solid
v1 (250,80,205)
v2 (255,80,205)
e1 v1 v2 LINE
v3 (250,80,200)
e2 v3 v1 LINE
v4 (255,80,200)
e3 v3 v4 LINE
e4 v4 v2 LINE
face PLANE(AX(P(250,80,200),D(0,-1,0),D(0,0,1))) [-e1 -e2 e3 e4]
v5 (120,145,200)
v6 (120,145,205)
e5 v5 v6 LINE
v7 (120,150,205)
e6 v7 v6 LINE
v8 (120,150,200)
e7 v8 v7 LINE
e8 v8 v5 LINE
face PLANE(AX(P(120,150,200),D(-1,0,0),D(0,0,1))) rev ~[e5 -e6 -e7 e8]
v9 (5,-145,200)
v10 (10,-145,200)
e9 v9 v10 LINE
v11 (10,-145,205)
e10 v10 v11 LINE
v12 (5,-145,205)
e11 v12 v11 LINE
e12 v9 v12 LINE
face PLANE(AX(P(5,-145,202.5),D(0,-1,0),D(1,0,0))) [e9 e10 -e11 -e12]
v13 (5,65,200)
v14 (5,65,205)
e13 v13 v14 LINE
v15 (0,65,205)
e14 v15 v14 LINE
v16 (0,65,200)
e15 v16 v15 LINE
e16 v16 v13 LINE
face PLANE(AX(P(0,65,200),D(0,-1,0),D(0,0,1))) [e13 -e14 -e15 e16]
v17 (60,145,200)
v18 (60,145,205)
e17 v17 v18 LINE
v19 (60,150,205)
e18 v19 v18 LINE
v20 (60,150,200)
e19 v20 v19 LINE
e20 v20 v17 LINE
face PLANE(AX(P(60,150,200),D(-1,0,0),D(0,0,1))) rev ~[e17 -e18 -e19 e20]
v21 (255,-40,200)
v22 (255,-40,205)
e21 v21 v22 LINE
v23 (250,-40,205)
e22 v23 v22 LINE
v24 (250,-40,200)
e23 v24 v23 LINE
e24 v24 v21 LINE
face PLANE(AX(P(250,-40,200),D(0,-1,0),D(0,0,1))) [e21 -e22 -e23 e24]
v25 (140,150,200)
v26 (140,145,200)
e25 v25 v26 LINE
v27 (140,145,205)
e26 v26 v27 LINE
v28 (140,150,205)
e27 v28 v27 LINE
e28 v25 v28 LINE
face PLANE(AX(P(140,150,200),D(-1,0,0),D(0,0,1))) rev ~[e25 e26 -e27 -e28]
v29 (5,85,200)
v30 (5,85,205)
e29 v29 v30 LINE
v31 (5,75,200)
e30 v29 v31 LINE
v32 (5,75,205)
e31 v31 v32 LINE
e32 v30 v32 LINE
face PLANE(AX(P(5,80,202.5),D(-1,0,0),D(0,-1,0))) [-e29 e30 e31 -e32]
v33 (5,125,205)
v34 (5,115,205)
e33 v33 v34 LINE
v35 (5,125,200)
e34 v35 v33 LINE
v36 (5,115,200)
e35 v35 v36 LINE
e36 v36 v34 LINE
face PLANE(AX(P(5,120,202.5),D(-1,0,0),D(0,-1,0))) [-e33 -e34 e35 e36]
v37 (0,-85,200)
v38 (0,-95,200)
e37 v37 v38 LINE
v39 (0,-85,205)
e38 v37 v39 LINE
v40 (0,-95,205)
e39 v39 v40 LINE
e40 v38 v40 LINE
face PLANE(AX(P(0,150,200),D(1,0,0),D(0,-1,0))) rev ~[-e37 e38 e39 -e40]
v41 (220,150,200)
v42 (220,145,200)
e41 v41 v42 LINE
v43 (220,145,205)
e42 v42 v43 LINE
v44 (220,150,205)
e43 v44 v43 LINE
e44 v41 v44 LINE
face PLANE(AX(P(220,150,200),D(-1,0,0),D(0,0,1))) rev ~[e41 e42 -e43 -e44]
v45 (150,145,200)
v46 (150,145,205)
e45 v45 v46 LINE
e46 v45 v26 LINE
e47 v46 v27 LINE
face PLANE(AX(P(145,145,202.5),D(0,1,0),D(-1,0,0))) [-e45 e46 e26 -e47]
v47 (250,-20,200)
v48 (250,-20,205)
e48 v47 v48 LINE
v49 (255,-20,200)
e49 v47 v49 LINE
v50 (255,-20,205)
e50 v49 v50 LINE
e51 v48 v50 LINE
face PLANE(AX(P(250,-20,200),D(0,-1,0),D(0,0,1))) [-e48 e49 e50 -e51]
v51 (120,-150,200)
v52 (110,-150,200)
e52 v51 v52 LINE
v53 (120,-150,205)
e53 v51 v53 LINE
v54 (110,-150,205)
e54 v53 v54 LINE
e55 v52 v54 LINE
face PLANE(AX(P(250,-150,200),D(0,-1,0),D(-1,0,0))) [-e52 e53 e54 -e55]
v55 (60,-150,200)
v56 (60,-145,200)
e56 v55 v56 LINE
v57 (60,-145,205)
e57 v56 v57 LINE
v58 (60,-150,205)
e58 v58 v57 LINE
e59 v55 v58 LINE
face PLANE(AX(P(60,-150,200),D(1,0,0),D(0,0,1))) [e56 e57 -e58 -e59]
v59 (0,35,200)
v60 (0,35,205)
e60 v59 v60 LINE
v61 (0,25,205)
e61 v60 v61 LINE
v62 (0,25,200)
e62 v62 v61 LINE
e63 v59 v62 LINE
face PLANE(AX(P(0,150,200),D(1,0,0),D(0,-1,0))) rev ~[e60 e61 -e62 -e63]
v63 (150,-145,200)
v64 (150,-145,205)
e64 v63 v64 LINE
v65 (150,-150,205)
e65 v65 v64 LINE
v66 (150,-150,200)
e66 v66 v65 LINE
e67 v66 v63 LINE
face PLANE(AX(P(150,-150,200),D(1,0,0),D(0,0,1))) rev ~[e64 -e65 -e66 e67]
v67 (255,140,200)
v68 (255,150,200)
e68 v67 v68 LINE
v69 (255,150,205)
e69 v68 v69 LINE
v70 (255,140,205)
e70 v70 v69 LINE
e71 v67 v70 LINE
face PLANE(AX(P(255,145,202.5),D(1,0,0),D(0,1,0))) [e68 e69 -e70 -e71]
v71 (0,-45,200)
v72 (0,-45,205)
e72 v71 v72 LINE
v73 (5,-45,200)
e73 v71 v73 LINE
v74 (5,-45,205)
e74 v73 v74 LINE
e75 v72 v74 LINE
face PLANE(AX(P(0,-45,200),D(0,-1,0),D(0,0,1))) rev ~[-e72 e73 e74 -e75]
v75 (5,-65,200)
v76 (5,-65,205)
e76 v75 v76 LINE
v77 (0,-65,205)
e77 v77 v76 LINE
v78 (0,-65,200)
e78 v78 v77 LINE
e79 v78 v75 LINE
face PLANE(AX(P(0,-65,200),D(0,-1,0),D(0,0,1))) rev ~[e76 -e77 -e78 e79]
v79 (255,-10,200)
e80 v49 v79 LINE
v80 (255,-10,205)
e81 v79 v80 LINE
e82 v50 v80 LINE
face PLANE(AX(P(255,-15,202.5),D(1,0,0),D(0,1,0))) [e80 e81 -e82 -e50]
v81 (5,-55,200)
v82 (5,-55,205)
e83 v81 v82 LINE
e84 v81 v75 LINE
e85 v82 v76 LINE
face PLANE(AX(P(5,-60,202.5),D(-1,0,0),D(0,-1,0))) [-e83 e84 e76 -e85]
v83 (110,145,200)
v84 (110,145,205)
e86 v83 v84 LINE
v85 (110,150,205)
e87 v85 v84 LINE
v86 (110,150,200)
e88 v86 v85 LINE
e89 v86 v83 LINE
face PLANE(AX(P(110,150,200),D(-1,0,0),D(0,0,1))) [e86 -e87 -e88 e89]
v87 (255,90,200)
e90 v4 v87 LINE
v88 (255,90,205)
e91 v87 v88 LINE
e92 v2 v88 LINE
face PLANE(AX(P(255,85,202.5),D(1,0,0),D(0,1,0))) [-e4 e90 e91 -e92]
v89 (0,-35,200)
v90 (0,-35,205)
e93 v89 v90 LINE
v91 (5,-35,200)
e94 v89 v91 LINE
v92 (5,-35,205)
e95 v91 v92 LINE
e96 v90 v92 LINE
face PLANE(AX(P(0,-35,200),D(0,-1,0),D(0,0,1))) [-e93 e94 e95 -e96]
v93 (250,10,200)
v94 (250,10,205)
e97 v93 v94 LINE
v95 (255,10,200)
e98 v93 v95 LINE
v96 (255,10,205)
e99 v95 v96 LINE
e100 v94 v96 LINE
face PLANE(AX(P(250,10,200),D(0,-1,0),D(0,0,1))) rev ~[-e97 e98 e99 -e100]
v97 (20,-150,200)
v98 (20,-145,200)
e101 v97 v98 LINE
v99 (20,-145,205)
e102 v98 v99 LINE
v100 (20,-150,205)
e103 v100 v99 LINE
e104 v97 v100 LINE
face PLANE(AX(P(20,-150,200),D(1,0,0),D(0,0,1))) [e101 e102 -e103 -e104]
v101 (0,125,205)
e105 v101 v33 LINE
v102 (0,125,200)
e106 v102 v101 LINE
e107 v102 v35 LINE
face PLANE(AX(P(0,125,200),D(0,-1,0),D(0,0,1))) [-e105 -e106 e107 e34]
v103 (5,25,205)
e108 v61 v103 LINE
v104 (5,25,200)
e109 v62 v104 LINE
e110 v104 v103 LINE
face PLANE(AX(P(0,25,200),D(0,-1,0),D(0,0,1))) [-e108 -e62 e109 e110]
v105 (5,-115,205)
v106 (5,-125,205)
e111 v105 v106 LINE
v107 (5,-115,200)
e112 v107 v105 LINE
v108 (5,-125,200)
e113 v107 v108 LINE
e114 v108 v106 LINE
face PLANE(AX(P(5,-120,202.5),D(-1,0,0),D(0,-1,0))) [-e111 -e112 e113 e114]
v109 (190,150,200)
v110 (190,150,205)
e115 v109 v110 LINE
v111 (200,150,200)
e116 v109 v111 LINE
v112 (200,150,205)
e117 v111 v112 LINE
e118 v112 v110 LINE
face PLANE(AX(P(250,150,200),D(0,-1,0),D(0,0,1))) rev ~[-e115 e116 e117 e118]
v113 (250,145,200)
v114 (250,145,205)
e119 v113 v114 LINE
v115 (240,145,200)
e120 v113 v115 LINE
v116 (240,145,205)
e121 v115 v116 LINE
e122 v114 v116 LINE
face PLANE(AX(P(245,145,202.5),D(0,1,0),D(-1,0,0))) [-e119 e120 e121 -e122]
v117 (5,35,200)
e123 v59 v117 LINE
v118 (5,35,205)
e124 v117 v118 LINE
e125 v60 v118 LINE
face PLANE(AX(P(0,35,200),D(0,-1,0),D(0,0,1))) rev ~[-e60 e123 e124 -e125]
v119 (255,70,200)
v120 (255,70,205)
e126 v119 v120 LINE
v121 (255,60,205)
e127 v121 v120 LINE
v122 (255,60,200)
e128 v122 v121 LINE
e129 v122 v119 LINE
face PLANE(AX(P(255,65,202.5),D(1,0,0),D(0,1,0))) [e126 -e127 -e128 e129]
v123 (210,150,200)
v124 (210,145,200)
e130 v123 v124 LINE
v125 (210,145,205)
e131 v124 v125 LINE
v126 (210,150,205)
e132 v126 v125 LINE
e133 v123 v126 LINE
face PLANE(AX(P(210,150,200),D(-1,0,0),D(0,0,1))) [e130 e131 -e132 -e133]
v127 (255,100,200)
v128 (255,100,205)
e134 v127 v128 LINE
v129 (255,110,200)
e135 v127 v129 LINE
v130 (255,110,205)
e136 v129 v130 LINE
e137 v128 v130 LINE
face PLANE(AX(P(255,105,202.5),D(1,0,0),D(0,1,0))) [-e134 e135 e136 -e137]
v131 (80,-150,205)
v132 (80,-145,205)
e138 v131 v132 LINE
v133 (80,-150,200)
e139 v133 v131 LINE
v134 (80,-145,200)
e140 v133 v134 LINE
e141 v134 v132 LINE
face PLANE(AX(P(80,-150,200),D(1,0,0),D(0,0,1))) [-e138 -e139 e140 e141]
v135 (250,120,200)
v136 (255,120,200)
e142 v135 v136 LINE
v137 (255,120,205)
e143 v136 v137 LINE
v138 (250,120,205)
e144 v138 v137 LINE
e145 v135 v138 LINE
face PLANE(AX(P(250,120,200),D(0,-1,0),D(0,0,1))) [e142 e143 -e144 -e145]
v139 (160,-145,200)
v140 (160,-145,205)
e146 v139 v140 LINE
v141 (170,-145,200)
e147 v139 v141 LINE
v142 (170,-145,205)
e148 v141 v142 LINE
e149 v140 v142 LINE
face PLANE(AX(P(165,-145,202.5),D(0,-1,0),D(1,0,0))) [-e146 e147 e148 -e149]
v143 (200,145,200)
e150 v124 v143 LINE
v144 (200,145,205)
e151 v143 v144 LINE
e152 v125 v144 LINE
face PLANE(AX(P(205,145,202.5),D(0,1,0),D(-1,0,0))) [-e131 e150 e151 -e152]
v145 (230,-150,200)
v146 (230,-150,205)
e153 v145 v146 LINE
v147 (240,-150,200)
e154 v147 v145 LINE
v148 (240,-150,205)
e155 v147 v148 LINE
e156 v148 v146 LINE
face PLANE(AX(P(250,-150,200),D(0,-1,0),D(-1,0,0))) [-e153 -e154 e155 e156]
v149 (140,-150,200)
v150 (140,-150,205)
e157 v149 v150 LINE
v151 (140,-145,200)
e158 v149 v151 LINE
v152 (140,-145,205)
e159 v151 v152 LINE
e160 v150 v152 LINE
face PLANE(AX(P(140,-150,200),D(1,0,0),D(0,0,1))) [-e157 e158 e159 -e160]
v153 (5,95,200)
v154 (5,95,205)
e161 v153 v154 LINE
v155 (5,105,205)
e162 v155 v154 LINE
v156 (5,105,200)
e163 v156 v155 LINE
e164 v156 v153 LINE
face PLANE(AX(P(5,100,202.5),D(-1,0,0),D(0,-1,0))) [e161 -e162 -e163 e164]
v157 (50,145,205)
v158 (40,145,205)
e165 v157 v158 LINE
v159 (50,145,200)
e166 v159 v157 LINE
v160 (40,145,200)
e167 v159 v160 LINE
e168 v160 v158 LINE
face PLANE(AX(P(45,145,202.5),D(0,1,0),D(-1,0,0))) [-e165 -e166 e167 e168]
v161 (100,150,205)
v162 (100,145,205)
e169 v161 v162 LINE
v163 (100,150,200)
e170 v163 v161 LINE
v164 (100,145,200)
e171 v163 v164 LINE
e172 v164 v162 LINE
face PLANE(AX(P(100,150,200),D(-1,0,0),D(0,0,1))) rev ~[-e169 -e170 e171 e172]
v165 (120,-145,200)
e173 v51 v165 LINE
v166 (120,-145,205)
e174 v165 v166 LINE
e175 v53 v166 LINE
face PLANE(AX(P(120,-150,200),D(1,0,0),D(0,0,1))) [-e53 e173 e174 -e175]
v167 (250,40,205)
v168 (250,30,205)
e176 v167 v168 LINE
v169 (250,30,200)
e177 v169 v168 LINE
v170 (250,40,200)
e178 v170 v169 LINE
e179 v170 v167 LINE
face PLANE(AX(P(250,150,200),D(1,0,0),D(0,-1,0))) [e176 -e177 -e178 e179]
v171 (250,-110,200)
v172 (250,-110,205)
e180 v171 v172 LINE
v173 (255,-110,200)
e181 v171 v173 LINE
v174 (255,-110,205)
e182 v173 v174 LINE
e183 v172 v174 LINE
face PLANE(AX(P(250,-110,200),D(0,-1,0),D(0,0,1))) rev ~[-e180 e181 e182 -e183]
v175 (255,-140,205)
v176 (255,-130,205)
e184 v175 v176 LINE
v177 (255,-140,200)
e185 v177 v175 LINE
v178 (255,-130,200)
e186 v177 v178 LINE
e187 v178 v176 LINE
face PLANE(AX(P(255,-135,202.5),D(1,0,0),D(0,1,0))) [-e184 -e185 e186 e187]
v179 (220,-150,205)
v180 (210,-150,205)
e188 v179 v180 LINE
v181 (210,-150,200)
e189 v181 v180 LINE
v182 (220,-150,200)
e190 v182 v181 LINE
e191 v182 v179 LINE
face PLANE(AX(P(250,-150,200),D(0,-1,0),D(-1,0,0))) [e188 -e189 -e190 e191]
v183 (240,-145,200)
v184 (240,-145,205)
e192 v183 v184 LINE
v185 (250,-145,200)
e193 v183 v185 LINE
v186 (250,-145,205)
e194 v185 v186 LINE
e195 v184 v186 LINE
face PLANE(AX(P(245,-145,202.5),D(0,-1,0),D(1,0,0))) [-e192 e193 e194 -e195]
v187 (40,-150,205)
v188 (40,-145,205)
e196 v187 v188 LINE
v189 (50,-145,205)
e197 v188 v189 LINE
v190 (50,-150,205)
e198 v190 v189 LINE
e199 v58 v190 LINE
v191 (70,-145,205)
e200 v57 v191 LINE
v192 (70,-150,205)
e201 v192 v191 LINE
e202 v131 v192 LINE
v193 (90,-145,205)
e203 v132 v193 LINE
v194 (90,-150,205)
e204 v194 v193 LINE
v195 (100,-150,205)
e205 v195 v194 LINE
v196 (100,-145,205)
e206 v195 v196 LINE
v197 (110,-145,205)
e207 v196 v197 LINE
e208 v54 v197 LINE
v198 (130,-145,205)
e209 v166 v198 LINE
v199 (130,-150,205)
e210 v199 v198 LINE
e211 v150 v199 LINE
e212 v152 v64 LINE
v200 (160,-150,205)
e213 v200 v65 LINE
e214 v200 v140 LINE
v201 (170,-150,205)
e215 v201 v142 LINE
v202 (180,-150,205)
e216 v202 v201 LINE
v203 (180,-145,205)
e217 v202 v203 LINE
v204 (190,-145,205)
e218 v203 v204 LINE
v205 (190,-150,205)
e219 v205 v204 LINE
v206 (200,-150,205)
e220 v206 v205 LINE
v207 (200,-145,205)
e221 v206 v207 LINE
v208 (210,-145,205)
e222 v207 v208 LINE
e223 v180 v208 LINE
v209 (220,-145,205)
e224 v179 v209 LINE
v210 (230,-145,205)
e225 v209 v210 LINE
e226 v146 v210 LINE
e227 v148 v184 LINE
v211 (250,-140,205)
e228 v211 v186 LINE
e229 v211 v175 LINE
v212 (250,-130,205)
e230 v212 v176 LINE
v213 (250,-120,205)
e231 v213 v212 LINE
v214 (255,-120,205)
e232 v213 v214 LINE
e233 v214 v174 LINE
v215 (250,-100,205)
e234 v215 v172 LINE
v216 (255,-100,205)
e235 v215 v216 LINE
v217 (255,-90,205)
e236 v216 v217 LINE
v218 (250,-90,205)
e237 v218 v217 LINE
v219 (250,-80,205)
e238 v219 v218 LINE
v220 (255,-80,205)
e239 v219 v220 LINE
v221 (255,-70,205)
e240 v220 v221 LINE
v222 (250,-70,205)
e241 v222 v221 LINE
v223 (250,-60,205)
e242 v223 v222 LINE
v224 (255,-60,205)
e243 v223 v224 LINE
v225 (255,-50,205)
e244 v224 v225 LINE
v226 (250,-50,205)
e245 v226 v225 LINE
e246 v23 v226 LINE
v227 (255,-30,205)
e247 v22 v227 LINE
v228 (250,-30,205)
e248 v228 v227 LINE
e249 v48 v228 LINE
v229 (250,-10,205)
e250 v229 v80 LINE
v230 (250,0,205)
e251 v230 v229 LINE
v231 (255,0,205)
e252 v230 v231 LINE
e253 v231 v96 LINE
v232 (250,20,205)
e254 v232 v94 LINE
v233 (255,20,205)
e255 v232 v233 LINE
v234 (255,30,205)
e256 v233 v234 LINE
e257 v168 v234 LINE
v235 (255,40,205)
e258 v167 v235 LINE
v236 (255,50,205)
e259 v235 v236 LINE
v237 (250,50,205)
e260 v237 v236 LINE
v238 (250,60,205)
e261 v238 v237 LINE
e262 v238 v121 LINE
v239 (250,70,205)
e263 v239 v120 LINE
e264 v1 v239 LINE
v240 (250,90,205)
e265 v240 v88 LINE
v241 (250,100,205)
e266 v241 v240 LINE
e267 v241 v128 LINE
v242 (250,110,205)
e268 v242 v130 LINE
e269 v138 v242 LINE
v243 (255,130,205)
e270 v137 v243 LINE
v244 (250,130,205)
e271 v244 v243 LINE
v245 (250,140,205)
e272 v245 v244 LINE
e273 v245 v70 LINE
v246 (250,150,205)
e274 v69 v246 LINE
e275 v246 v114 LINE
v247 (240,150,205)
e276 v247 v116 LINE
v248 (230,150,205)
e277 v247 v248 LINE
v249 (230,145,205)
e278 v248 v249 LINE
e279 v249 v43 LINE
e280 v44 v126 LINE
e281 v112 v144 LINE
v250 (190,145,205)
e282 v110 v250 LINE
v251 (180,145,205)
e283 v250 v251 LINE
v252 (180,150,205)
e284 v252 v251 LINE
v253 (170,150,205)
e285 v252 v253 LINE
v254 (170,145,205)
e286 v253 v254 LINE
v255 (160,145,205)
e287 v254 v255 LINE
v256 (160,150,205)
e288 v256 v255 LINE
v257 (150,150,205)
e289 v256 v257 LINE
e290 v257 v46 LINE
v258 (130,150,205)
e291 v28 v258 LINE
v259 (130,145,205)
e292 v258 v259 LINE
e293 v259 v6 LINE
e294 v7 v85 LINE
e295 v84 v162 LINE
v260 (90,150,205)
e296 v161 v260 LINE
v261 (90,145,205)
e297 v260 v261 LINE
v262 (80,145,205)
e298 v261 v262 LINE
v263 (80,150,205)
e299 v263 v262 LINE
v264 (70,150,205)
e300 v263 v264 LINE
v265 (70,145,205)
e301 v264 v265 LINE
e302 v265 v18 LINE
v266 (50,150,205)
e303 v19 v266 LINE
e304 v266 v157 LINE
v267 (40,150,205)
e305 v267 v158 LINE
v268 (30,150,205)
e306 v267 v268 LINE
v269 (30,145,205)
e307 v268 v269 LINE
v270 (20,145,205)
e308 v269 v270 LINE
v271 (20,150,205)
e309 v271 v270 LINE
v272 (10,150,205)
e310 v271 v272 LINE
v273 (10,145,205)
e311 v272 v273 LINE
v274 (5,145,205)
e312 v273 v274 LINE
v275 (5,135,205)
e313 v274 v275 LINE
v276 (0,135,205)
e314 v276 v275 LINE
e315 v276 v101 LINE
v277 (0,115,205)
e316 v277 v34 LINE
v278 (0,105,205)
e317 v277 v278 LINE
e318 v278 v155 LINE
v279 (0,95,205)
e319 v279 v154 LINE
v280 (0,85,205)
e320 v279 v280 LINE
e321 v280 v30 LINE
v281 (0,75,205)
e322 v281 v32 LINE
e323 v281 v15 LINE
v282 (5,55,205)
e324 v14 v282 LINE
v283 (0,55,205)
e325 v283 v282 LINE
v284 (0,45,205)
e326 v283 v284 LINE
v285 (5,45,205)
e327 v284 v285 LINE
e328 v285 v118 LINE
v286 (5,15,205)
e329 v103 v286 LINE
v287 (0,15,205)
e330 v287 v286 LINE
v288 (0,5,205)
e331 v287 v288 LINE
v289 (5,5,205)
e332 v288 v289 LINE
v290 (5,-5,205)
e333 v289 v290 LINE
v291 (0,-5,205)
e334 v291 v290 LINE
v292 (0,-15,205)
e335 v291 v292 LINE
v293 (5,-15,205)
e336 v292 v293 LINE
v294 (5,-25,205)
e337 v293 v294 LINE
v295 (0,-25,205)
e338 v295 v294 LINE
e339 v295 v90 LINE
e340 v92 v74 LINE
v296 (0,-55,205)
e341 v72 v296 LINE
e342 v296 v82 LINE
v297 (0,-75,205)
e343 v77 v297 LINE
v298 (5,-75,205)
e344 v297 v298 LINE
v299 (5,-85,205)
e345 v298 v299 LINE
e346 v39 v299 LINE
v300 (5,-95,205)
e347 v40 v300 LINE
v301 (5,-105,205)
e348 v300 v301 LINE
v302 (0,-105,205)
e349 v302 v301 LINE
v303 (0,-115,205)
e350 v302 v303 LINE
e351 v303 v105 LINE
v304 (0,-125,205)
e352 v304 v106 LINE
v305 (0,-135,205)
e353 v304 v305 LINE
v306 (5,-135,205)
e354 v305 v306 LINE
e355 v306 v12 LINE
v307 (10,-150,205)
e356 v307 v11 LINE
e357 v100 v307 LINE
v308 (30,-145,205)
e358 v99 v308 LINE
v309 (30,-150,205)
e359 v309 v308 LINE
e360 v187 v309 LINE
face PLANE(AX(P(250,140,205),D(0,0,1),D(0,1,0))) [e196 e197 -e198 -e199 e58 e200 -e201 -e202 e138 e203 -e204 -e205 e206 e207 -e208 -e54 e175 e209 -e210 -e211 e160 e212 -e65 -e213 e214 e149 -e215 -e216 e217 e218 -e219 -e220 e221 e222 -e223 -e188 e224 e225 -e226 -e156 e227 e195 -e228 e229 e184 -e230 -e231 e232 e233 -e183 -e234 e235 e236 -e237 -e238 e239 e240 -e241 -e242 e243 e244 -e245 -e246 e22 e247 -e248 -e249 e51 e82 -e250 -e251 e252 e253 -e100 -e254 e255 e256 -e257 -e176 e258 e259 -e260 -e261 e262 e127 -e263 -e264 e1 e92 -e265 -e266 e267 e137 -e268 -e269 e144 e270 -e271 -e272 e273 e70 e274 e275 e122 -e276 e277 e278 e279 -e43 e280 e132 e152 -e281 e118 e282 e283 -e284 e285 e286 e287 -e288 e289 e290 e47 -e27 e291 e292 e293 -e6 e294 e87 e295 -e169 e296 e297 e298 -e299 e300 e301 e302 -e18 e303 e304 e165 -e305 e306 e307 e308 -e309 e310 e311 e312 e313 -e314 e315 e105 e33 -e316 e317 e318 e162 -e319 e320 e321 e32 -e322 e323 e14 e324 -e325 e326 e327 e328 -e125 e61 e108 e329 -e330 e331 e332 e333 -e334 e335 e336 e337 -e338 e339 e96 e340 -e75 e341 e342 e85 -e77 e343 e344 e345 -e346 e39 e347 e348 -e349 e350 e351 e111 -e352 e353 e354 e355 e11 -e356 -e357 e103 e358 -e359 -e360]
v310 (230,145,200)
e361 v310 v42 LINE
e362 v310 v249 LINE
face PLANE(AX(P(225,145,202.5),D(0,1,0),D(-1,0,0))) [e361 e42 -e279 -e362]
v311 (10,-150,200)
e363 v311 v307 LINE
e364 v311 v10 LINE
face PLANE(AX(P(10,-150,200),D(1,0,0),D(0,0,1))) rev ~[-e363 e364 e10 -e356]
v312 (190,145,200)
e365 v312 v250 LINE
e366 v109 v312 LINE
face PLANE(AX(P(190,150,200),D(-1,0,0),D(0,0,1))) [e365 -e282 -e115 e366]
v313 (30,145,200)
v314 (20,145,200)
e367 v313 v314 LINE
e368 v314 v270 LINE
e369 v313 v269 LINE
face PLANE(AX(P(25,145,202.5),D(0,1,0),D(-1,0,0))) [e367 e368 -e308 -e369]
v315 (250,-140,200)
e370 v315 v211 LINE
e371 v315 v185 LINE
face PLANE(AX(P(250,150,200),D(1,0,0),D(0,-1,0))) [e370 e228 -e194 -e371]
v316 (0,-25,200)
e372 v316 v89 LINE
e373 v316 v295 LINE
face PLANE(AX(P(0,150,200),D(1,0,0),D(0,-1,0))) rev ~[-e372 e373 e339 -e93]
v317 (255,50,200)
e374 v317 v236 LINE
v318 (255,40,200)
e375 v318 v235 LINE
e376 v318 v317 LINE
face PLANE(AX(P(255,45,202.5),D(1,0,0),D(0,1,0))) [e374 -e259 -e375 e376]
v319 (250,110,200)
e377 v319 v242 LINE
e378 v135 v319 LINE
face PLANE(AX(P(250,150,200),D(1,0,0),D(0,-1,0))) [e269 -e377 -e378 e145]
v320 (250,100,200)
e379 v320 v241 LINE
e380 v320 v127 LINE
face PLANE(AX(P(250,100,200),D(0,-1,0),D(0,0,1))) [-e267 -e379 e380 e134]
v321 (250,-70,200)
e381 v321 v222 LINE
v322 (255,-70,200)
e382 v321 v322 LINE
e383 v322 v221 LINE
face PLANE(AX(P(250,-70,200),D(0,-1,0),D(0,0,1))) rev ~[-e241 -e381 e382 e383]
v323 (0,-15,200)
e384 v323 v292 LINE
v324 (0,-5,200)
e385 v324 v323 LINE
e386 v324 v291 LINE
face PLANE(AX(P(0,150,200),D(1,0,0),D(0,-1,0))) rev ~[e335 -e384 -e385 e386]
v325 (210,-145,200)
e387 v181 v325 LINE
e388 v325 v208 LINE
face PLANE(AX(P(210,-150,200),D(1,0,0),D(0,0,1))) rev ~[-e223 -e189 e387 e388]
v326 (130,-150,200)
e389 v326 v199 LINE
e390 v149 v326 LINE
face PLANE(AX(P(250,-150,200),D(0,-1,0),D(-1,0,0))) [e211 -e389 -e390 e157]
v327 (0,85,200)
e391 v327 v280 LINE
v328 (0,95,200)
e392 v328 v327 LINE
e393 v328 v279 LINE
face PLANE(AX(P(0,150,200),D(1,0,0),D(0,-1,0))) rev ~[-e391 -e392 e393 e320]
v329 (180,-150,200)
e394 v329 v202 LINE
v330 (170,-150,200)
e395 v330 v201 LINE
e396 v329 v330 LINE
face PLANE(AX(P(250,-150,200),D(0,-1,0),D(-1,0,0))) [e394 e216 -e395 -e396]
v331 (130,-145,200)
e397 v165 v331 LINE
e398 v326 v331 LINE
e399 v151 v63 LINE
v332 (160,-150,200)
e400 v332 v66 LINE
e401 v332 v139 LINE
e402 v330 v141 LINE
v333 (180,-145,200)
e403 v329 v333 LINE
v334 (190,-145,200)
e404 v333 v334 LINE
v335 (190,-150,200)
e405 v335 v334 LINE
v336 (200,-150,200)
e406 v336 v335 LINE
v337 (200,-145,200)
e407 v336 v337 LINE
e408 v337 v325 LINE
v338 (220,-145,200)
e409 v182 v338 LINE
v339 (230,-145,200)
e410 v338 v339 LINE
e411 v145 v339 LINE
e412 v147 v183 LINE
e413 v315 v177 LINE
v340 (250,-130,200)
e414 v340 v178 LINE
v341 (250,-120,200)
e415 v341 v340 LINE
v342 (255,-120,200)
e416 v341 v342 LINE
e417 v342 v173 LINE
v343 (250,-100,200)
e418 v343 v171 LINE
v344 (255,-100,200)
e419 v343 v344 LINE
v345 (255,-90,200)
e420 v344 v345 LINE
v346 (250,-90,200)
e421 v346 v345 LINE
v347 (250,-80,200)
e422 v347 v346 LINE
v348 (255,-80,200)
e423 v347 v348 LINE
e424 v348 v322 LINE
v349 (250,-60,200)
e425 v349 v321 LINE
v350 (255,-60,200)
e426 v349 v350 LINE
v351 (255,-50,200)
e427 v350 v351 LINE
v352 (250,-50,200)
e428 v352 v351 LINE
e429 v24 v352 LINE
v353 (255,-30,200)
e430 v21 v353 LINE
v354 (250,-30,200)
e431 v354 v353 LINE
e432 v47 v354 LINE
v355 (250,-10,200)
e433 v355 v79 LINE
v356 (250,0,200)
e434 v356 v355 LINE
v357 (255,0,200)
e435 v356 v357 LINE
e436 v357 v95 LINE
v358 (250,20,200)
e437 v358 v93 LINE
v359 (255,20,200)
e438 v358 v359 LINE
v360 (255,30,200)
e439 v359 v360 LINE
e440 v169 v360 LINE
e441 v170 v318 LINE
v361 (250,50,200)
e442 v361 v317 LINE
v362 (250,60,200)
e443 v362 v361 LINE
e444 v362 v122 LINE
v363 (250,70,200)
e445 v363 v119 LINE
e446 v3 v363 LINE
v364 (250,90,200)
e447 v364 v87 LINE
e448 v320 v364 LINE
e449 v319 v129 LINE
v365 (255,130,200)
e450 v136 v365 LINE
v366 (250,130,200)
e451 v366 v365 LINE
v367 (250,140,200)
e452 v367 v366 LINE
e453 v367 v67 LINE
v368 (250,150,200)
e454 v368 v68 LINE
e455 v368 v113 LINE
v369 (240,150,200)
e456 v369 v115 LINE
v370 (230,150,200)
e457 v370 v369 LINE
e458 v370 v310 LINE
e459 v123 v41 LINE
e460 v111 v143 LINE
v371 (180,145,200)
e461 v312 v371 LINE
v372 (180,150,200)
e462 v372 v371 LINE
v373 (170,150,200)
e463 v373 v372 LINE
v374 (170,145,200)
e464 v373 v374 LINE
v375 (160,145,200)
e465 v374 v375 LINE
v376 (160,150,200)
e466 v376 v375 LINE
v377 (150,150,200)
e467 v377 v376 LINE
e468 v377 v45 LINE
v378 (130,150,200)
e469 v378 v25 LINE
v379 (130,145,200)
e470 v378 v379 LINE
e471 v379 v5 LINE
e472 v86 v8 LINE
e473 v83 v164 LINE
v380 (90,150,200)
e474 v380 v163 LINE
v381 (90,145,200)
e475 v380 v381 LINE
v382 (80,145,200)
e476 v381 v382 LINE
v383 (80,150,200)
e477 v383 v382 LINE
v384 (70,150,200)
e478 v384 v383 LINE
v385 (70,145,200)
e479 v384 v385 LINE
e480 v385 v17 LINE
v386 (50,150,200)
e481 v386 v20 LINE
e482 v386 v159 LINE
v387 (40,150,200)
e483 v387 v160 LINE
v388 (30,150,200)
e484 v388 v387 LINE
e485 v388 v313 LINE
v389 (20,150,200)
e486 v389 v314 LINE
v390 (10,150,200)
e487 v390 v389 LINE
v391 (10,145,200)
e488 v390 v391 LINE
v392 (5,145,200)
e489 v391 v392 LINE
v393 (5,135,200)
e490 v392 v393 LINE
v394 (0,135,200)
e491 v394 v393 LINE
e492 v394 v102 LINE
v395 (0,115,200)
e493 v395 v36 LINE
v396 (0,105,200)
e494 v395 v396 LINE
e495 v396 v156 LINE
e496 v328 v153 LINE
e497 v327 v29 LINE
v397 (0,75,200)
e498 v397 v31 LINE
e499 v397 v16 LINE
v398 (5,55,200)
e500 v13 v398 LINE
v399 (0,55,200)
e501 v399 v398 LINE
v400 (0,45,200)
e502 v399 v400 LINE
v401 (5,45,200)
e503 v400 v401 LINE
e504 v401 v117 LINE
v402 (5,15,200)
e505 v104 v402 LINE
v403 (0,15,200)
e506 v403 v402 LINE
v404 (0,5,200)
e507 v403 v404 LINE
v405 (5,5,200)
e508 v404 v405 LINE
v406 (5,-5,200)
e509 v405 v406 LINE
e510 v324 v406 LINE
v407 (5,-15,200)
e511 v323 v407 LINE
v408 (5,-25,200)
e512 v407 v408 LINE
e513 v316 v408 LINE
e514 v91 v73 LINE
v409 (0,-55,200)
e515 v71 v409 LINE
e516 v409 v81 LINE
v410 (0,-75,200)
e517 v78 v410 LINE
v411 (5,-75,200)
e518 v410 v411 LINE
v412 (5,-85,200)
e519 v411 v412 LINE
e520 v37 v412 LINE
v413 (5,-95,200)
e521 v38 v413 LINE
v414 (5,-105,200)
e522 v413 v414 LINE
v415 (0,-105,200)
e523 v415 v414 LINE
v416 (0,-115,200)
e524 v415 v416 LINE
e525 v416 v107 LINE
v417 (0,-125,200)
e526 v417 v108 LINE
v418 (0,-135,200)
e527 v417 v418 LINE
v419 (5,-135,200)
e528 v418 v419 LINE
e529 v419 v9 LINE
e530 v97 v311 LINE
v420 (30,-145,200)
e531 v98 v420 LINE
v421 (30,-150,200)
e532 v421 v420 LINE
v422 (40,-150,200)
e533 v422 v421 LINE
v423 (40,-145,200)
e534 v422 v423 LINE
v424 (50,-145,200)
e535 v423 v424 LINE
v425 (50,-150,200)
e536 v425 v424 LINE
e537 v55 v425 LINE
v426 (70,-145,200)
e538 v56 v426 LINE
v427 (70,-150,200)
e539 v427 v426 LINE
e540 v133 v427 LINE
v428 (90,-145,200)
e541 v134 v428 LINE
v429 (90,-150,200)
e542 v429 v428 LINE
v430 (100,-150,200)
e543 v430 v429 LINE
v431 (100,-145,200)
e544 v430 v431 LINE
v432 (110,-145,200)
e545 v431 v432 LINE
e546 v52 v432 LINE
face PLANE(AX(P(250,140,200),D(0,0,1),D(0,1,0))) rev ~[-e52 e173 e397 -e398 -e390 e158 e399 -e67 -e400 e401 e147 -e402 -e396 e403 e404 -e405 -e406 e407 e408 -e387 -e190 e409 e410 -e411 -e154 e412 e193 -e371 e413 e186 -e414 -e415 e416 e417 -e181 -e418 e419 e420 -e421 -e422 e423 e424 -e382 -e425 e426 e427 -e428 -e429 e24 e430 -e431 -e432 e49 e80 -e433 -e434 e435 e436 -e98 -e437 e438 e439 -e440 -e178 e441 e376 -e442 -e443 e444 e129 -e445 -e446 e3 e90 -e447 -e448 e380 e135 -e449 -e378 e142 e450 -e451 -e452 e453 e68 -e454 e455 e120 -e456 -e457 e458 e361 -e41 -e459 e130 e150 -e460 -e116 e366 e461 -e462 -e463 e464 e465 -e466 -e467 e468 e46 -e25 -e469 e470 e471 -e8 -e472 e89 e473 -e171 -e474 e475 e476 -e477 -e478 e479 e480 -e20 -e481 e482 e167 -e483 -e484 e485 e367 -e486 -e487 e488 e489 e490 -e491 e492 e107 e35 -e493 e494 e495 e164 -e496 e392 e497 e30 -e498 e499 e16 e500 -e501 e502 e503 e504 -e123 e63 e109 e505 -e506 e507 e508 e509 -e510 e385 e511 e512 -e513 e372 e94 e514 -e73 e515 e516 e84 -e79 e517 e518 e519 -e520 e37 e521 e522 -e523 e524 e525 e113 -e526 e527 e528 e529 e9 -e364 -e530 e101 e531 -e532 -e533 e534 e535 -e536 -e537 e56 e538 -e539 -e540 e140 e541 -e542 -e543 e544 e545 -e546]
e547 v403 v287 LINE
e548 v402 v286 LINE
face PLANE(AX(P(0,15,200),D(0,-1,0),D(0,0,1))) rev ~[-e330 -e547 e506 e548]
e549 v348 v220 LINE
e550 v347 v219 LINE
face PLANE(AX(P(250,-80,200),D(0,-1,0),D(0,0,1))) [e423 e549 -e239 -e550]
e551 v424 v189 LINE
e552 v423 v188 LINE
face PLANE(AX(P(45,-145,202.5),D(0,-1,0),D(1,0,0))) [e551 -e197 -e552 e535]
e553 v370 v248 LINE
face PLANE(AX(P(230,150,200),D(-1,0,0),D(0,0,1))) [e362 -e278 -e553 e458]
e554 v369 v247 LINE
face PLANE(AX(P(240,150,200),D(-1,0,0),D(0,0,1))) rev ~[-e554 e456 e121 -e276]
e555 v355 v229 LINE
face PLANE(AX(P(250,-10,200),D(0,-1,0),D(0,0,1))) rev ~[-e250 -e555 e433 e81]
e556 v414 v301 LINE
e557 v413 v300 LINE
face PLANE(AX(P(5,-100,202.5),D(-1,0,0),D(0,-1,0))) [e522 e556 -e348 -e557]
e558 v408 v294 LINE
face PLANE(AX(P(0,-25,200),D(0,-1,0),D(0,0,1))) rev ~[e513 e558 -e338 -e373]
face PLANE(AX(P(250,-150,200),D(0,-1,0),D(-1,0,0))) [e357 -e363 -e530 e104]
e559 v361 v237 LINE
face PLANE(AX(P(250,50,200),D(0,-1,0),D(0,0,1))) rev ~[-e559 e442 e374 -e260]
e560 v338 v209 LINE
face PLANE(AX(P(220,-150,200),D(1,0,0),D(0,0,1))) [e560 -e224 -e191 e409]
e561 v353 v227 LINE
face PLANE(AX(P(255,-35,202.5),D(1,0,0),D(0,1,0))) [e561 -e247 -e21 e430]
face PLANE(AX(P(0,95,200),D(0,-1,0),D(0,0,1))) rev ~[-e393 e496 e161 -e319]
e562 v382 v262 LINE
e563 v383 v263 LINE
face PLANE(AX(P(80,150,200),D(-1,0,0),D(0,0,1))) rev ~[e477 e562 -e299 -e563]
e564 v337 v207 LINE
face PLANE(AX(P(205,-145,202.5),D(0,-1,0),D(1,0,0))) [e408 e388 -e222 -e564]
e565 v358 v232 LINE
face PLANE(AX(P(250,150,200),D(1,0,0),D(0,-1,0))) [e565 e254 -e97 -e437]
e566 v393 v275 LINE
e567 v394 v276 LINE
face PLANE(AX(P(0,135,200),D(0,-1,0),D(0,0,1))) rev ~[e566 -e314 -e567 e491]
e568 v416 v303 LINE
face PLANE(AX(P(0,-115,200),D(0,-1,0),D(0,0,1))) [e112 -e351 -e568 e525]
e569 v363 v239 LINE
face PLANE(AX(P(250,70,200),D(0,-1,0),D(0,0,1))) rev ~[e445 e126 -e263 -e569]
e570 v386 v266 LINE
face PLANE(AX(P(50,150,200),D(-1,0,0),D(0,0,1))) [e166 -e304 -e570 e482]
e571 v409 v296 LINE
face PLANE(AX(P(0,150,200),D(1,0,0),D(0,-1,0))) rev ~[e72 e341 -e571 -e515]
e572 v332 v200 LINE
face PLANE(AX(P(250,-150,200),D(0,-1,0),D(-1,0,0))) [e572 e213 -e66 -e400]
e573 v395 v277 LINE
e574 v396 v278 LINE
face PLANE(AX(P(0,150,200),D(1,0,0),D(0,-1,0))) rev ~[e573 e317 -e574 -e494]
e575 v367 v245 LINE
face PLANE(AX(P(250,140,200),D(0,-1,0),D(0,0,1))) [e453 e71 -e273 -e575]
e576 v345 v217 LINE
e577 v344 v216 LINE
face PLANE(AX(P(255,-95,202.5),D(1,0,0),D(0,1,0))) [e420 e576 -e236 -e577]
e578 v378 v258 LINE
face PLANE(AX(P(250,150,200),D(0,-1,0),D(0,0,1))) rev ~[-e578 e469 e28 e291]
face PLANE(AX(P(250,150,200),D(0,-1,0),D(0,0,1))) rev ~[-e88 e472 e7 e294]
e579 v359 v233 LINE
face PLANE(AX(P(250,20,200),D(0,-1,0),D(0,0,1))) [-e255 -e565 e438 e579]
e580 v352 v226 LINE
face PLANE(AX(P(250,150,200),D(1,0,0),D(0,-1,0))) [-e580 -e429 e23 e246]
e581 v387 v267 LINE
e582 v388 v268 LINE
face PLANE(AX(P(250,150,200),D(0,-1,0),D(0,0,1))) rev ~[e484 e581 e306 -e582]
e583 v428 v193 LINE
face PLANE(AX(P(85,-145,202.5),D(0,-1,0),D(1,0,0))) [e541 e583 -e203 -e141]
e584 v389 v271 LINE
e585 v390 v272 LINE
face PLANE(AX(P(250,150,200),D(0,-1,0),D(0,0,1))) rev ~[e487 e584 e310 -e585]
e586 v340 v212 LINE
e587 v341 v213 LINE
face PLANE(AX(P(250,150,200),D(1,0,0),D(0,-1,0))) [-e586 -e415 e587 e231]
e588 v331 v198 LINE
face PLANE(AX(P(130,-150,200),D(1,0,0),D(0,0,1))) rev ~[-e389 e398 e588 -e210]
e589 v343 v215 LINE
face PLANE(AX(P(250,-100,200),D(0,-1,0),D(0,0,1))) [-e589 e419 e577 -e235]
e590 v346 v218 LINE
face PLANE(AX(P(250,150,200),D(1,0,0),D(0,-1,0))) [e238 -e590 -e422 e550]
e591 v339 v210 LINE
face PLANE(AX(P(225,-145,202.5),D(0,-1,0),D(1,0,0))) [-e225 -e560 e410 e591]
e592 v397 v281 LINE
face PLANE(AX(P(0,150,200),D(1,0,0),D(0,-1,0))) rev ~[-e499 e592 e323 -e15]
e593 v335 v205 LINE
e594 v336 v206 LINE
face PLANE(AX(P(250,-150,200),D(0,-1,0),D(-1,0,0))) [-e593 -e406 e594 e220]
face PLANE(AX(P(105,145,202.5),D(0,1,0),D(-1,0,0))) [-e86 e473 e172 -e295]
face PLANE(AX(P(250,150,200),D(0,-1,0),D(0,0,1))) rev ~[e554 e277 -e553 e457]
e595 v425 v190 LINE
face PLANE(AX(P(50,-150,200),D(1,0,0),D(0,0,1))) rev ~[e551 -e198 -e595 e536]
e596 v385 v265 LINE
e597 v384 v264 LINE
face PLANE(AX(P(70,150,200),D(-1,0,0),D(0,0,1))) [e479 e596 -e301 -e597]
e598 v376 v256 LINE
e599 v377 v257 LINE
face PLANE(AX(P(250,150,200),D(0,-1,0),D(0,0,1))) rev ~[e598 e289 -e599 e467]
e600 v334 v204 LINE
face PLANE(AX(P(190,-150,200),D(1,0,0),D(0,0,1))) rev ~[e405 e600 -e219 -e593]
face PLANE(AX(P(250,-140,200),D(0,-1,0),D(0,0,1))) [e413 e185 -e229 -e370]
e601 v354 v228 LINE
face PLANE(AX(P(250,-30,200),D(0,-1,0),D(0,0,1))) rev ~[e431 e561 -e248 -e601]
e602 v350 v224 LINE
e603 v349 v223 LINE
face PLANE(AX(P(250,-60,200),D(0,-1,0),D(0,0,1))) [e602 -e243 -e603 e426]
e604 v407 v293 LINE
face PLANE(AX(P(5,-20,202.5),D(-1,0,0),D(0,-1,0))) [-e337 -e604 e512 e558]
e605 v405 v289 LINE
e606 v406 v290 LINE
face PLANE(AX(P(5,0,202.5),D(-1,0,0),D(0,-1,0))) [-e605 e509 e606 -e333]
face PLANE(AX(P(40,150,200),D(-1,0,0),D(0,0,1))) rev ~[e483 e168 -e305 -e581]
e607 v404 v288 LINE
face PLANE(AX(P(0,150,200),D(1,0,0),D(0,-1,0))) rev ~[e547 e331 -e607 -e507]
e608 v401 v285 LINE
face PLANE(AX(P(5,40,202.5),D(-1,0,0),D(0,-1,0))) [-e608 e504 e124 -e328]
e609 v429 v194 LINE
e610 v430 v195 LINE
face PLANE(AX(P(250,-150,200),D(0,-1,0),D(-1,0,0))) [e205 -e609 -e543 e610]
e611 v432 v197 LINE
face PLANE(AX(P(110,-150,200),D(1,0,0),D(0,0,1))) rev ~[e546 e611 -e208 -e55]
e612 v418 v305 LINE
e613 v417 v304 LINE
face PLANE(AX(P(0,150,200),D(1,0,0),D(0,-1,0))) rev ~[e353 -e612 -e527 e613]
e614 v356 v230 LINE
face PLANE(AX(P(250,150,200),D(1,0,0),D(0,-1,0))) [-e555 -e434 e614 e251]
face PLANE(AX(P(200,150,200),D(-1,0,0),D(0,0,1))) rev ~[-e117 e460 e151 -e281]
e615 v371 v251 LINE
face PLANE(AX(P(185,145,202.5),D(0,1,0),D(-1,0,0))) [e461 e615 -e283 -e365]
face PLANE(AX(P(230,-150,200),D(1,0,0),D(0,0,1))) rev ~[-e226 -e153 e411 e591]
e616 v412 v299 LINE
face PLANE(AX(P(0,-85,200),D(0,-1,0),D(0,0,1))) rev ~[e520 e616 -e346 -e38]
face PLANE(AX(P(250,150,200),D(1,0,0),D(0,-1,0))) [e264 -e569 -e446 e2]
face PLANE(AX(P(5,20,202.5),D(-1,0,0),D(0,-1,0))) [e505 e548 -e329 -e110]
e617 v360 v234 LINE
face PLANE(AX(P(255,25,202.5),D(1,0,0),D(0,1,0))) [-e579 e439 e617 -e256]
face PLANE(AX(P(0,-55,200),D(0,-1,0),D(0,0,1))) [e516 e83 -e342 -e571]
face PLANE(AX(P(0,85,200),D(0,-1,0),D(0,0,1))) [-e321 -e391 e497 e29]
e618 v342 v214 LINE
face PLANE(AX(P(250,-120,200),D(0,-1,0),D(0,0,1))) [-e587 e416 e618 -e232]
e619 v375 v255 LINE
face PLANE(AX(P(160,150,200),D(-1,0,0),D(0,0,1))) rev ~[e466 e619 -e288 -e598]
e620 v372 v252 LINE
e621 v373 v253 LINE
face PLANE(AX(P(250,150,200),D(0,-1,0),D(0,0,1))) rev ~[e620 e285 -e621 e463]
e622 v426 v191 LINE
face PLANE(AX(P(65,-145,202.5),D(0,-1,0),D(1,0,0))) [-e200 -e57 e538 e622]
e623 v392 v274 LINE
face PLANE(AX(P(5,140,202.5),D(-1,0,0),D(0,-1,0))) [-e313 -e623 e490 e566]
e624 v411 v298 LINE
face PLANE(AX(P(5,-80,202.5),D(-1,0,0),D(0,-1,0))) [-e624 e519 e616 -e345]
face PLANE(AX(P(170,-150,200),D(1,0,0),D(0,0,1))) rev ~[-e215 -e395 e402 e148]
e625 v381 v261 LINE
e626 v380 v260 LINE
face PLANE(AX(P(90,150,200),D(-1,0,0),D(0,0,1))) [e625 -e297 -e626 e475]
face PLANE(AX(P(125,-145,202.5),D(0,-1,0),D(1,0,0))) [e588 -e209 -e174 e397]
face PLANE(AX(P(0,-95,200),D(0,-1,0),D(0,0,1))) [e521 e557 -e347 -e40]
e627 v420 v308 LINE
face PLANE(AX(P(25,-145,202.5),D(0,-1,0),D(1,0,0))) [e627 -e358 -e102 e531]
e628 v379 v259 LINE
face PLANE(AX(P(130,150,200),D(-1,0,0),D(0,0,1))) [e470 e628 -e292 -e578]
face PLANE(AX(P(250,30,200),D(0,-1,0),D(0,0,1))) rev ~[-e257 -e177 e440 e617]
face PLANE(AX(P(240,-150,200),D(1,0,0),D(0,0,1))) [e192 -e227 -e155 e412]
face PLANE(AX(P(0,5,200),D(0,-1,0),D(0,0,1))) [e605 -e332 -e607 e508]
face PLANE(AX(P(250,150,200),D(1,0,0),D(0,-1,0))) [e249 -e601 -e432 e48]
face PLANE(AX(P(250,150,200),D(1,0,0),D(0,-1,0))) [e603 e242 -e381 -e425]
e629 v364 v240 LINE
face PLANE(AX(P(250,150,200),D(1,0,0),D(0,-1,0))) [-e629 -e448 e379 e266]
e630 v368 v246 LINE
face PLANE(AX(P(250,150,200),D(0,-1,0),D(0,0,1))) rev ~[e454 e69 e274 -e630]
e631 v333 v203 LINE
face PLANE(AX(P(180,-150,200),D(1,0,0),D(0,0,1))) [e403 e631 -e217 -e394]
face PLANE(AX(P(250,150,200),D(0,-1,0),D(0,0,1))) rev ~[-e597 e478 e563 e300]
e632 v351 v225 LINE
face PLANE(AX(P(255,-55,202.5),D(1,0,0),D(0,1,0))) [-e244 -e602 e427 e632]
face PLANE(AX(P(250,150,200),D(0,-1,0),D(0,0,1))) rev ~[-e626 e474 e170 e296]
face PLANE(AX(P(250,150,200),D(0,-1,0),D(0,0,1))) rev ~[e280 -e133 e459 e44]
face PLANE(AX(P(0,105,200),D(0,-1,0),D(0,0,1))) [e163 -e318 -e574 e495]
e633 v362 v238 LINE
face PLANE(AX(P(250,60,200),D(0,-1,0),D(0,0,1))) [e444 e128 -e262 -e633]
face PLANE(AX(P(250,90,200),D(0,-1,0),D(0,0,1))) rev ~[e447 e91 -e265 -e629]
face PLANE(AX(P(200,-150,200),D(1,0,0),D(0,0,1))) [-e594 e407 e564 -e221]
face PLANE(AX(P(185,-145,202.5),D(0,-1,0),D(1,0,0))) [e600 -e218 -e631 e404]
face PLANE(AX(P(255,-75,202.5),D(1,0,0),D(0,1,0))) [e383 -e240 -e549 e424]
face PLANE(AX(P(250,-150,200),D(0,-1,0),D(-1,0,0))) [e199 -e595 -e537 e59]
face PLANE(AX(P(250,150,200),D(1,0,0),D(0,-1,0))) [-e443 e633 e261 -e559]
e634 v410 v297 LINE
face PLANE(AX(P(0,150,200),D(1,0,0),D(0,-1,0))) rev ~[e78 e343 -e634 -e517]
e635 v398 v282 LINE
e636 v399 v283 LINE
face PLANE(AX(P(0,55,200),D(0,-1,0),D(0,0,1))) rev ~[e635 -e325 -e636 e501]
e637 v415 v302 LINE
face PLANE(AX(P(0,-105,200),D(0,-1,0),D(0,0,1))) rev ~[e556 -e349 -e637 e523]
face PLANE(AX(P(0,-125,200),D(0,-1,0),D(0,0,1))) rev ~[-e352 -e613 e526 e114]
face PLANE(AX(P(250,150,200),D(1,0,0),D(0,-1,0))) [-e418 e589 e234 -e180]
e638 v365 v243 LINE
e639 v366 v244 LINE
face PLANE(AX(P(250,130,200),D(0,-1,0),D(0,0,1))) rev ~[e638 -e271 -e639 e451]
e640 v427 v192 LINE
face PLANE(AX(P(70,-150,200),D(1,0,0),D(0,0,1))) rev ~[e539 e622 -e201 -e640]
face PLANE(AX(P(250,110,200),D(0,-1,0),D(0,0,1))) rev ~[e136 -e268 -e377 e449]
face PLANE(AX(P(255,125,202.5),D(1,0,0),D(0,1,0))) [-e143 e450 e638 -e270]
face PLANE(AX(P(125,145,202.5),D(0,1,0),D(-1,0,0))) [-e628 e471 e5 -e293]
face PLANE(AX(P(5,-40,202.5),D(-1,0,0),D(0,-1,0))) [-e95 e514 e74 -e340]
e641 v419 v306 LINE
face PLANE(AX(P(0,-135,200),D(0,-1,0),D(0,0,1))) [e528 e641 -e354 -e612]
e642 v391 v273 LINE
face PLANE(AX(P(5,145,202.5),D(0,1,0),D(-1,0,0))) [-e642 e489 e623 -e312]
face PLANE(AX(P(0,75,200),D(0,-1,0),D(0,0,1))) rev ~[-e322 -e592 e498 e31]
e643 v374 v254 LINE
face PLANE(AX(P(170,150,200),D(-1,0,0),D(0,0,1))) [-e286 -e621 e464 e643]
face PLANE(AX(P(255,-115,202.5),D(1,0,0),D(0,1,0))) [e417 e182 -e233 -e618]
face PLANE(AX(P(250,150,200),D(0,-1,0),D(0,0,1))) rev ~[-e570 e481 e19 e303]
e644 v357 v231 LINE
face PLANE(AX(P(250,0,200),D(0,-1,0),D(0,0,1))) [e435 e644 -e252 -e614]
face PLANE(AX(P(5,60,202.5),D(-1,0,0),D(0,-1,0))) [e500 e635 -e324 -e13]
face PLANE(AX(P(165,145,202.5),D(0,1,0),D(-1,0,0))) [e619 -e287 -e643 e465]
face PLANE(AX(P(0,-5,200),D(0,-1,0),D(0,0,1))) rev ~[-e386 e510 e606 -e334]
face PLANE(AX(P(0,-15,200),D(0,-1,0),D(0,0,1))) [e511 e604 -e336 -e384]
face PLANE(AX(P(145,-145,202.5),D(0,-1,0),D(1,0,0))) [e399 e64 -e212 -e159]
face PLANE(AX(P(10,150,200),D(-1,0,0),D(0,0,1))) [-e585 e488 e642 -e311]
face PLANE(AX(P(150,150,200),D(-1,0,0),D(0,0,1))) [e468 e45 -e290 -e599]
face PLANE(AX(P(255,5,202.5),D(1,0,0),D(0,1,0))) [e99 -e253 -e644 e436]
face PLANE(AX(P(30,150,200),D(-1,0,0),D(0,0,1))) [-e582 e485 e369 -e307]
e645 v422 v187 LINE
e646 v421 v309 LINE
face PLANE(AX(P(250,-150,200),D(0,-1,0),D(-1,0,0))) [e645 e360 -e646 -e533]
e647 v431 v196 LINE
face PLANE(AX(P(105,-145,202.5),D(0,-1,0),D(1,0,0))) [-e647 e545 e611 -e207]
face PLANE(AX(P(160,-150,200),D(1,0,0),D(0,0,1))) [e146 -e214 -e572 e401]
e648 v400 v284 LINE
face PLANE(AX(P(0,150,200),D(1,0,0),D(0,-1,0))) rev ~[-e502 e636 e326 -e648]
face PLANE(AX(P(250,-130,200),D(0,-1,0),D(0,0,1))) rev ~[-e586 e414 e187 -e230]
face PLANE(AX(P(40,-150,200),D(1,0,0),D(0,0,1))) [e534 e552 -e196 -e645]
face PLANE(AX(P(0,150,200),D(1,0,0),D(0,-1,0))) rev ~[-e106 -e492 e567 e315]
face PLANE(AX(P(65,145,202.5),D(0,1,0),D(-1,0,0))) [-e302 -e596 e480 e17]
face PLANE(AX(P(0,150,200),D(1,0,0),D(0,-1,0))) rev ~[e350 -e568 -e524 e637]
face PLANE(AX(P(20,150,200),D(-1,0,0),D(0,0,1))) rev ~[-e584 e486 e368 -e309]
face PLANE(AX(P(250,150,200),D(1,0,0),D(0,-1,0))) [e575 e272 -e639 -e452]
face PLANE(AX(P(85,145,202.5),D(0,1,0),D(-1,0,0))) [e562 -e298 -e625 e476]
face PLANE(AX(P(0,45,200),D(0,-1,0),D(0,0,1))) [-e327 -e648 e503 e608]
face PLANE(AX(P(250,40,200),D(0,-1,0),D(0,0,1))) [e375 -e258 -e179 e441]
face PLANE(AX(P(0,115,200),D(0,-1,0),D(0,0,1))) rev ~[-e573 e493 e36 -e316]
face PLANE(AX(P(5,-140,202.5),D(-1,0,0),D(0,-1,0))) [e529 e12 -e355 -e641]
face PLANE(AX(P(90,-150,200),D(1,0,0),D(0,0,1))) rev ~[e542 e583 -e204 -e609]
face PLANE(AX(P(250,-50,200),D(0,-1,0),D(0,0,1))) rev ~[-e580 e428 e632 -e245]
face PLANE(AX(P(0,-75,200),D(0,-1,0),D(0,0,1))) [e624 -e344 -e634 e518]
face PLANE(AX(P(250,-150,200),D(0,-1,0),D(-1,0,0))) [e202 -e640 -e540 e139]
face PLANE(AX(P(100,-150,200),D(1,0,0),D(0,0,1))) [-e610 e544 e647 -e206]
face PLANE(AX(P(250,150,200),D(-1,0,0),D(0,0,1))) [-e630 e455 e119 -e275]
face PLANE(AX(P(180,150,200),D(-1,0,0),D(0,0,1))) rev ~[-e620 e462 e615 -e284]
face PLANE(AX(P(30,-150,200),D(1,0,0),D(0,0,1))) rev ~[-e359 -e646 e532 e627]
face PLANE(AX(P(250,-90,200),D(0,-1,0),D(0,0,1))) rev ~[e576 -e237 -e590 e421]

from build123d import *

# Parameters (mm, degrees)
SKETCH050_W             = 250
SKETCH050_H             = 300
PAD034_DEPTH            = 5
SKETCH055_W             = 10
SKETCH055_H             = 5
PAD039_DEPTH            = 5
LINEARPATTERN030_COUNT  = 15
LINEARPATTERN030_PITCH  = 20
SKETCH066_W             = 10
SKETCH066_H             = 5
POCKET019_DEPTH         = 5
LINEARPATTERN041_COUNT  = 13
LINEARPATTERN041_PITCH  = 20
SKETCH067_W             = 10
SKETCH067_H             = 5
POCKET020_DEPTH         = 5
LINEARPATTERN042_COUNT  = 15
LINEARPATTERN042_PITCH  = 20
SKETCH068_W             = 10
SKETCH068_H             = 5
POCKET021_DEPTH         = 5
LINEARPATTERN043_COUNT  = 13
LINEARPATTERN043_PITCH  = 20
BODY013_PLACEMENT_ANGLE = 180


with BuildPart() as part:
    # Sketch050 → Pad034 (new body)
    with BuildSketch(Plane.XY):
        Rectangle(SKETCH050_W, SKETCH050_H)
    extrude(amount=PAD034_DEPTH)

    # Sketch055 (on DatumPlane) → Pad039 (join)
    with BuildSketch(Plane(origin=(-125, 0, 0), x_dir=(0, -1, 0), z_dir=(-1, 0, 0))):
        with Locations((-135, 2.5)):
            Rectangle(SKETCH055_W, SKETCH055_H)
    pad039 = extrude(amount=PAD039_DEPTH)

    # LinearPattern030: Pad039 ×15
    with Locations(*[(0, -i * LINEARPATTERN030_PITCH, 0) for i in range(1, LINEARPATTERN030_COUNT)]):
        add(pad039)

    # Sketch066 (on DatumPlane) → Pocket019 (cut)
    with BuildSketch(Plane.XZ.offset(150)):
        with Locations((-120, 2.5)):
            Rectangle(SKETCH066_W, SKETCH066_H)
    pocket019 = extrude(amount=-POCKET019_DEPTH, mode=Mode.SUBTRACT)

    # LinearPattern041: Pocket019 ×13
    with Locations(*[(i * LINEARPATTERN041_PITCH, 0, 0) for i in range(1, LINEARPATTERN041_COUNT)]):
        add(pocket019, mode=Mode.SUBTRACT)

    # Sketch067 (on DatumPlane) → Pocket020 (cut)
    with BuildSketch(Plane.YZ.offset(125)):
        with Locations((-140, 2.5)):
            Rectangle(SKETCH067_W, SKETCH067_H)
    pocket020 = extrude(amount=-POCKET020_DEPTH, mode=Mode.SUBTRACT)

    # LinearPattern042: Pocket020 ×15
    with Locations(*[(0, i * LINEARPATTERN042_PITCH, 0) for i in range(1, LINEARPATTERN042_COUNT)]):
        add(pocket020, mode=Mode.SUBTRACT)

    # Sketch068 (on DatumPlane) → Pocket021 (cut)
    with BuildSketch(Plane(origin=(0, 150, 0), x_dir=(-1, 0, 0), z_dir=(0, 1, 0))):
        with Locations((-120, 2.5)):
            Rectangle(SKETCH068_W, SKETCH068_H)
    pocket021 = extrude(amount=-POCKET021_DEPTH, mode=Mode.SUBTRACT)

    # LinearPattern043: Pocket021 ×13
    with Locations(*[(-i * LINEARPATTERN043_PITCH, 0, 0) for i in range(1, LINEARPATTERN043_COUNT)]):
        add(pocket021, mode=Mode.SUBTRACT)


with BuildPart() as part_1:
    # Body013 placement: moved
    add(part.part.moved(Location((125, 0, 200))).rotate(Axis((125, 0, 200), (0, 0, 1)), BODY013_PLACEMENT_ANGLE))


solid = part_1.part
